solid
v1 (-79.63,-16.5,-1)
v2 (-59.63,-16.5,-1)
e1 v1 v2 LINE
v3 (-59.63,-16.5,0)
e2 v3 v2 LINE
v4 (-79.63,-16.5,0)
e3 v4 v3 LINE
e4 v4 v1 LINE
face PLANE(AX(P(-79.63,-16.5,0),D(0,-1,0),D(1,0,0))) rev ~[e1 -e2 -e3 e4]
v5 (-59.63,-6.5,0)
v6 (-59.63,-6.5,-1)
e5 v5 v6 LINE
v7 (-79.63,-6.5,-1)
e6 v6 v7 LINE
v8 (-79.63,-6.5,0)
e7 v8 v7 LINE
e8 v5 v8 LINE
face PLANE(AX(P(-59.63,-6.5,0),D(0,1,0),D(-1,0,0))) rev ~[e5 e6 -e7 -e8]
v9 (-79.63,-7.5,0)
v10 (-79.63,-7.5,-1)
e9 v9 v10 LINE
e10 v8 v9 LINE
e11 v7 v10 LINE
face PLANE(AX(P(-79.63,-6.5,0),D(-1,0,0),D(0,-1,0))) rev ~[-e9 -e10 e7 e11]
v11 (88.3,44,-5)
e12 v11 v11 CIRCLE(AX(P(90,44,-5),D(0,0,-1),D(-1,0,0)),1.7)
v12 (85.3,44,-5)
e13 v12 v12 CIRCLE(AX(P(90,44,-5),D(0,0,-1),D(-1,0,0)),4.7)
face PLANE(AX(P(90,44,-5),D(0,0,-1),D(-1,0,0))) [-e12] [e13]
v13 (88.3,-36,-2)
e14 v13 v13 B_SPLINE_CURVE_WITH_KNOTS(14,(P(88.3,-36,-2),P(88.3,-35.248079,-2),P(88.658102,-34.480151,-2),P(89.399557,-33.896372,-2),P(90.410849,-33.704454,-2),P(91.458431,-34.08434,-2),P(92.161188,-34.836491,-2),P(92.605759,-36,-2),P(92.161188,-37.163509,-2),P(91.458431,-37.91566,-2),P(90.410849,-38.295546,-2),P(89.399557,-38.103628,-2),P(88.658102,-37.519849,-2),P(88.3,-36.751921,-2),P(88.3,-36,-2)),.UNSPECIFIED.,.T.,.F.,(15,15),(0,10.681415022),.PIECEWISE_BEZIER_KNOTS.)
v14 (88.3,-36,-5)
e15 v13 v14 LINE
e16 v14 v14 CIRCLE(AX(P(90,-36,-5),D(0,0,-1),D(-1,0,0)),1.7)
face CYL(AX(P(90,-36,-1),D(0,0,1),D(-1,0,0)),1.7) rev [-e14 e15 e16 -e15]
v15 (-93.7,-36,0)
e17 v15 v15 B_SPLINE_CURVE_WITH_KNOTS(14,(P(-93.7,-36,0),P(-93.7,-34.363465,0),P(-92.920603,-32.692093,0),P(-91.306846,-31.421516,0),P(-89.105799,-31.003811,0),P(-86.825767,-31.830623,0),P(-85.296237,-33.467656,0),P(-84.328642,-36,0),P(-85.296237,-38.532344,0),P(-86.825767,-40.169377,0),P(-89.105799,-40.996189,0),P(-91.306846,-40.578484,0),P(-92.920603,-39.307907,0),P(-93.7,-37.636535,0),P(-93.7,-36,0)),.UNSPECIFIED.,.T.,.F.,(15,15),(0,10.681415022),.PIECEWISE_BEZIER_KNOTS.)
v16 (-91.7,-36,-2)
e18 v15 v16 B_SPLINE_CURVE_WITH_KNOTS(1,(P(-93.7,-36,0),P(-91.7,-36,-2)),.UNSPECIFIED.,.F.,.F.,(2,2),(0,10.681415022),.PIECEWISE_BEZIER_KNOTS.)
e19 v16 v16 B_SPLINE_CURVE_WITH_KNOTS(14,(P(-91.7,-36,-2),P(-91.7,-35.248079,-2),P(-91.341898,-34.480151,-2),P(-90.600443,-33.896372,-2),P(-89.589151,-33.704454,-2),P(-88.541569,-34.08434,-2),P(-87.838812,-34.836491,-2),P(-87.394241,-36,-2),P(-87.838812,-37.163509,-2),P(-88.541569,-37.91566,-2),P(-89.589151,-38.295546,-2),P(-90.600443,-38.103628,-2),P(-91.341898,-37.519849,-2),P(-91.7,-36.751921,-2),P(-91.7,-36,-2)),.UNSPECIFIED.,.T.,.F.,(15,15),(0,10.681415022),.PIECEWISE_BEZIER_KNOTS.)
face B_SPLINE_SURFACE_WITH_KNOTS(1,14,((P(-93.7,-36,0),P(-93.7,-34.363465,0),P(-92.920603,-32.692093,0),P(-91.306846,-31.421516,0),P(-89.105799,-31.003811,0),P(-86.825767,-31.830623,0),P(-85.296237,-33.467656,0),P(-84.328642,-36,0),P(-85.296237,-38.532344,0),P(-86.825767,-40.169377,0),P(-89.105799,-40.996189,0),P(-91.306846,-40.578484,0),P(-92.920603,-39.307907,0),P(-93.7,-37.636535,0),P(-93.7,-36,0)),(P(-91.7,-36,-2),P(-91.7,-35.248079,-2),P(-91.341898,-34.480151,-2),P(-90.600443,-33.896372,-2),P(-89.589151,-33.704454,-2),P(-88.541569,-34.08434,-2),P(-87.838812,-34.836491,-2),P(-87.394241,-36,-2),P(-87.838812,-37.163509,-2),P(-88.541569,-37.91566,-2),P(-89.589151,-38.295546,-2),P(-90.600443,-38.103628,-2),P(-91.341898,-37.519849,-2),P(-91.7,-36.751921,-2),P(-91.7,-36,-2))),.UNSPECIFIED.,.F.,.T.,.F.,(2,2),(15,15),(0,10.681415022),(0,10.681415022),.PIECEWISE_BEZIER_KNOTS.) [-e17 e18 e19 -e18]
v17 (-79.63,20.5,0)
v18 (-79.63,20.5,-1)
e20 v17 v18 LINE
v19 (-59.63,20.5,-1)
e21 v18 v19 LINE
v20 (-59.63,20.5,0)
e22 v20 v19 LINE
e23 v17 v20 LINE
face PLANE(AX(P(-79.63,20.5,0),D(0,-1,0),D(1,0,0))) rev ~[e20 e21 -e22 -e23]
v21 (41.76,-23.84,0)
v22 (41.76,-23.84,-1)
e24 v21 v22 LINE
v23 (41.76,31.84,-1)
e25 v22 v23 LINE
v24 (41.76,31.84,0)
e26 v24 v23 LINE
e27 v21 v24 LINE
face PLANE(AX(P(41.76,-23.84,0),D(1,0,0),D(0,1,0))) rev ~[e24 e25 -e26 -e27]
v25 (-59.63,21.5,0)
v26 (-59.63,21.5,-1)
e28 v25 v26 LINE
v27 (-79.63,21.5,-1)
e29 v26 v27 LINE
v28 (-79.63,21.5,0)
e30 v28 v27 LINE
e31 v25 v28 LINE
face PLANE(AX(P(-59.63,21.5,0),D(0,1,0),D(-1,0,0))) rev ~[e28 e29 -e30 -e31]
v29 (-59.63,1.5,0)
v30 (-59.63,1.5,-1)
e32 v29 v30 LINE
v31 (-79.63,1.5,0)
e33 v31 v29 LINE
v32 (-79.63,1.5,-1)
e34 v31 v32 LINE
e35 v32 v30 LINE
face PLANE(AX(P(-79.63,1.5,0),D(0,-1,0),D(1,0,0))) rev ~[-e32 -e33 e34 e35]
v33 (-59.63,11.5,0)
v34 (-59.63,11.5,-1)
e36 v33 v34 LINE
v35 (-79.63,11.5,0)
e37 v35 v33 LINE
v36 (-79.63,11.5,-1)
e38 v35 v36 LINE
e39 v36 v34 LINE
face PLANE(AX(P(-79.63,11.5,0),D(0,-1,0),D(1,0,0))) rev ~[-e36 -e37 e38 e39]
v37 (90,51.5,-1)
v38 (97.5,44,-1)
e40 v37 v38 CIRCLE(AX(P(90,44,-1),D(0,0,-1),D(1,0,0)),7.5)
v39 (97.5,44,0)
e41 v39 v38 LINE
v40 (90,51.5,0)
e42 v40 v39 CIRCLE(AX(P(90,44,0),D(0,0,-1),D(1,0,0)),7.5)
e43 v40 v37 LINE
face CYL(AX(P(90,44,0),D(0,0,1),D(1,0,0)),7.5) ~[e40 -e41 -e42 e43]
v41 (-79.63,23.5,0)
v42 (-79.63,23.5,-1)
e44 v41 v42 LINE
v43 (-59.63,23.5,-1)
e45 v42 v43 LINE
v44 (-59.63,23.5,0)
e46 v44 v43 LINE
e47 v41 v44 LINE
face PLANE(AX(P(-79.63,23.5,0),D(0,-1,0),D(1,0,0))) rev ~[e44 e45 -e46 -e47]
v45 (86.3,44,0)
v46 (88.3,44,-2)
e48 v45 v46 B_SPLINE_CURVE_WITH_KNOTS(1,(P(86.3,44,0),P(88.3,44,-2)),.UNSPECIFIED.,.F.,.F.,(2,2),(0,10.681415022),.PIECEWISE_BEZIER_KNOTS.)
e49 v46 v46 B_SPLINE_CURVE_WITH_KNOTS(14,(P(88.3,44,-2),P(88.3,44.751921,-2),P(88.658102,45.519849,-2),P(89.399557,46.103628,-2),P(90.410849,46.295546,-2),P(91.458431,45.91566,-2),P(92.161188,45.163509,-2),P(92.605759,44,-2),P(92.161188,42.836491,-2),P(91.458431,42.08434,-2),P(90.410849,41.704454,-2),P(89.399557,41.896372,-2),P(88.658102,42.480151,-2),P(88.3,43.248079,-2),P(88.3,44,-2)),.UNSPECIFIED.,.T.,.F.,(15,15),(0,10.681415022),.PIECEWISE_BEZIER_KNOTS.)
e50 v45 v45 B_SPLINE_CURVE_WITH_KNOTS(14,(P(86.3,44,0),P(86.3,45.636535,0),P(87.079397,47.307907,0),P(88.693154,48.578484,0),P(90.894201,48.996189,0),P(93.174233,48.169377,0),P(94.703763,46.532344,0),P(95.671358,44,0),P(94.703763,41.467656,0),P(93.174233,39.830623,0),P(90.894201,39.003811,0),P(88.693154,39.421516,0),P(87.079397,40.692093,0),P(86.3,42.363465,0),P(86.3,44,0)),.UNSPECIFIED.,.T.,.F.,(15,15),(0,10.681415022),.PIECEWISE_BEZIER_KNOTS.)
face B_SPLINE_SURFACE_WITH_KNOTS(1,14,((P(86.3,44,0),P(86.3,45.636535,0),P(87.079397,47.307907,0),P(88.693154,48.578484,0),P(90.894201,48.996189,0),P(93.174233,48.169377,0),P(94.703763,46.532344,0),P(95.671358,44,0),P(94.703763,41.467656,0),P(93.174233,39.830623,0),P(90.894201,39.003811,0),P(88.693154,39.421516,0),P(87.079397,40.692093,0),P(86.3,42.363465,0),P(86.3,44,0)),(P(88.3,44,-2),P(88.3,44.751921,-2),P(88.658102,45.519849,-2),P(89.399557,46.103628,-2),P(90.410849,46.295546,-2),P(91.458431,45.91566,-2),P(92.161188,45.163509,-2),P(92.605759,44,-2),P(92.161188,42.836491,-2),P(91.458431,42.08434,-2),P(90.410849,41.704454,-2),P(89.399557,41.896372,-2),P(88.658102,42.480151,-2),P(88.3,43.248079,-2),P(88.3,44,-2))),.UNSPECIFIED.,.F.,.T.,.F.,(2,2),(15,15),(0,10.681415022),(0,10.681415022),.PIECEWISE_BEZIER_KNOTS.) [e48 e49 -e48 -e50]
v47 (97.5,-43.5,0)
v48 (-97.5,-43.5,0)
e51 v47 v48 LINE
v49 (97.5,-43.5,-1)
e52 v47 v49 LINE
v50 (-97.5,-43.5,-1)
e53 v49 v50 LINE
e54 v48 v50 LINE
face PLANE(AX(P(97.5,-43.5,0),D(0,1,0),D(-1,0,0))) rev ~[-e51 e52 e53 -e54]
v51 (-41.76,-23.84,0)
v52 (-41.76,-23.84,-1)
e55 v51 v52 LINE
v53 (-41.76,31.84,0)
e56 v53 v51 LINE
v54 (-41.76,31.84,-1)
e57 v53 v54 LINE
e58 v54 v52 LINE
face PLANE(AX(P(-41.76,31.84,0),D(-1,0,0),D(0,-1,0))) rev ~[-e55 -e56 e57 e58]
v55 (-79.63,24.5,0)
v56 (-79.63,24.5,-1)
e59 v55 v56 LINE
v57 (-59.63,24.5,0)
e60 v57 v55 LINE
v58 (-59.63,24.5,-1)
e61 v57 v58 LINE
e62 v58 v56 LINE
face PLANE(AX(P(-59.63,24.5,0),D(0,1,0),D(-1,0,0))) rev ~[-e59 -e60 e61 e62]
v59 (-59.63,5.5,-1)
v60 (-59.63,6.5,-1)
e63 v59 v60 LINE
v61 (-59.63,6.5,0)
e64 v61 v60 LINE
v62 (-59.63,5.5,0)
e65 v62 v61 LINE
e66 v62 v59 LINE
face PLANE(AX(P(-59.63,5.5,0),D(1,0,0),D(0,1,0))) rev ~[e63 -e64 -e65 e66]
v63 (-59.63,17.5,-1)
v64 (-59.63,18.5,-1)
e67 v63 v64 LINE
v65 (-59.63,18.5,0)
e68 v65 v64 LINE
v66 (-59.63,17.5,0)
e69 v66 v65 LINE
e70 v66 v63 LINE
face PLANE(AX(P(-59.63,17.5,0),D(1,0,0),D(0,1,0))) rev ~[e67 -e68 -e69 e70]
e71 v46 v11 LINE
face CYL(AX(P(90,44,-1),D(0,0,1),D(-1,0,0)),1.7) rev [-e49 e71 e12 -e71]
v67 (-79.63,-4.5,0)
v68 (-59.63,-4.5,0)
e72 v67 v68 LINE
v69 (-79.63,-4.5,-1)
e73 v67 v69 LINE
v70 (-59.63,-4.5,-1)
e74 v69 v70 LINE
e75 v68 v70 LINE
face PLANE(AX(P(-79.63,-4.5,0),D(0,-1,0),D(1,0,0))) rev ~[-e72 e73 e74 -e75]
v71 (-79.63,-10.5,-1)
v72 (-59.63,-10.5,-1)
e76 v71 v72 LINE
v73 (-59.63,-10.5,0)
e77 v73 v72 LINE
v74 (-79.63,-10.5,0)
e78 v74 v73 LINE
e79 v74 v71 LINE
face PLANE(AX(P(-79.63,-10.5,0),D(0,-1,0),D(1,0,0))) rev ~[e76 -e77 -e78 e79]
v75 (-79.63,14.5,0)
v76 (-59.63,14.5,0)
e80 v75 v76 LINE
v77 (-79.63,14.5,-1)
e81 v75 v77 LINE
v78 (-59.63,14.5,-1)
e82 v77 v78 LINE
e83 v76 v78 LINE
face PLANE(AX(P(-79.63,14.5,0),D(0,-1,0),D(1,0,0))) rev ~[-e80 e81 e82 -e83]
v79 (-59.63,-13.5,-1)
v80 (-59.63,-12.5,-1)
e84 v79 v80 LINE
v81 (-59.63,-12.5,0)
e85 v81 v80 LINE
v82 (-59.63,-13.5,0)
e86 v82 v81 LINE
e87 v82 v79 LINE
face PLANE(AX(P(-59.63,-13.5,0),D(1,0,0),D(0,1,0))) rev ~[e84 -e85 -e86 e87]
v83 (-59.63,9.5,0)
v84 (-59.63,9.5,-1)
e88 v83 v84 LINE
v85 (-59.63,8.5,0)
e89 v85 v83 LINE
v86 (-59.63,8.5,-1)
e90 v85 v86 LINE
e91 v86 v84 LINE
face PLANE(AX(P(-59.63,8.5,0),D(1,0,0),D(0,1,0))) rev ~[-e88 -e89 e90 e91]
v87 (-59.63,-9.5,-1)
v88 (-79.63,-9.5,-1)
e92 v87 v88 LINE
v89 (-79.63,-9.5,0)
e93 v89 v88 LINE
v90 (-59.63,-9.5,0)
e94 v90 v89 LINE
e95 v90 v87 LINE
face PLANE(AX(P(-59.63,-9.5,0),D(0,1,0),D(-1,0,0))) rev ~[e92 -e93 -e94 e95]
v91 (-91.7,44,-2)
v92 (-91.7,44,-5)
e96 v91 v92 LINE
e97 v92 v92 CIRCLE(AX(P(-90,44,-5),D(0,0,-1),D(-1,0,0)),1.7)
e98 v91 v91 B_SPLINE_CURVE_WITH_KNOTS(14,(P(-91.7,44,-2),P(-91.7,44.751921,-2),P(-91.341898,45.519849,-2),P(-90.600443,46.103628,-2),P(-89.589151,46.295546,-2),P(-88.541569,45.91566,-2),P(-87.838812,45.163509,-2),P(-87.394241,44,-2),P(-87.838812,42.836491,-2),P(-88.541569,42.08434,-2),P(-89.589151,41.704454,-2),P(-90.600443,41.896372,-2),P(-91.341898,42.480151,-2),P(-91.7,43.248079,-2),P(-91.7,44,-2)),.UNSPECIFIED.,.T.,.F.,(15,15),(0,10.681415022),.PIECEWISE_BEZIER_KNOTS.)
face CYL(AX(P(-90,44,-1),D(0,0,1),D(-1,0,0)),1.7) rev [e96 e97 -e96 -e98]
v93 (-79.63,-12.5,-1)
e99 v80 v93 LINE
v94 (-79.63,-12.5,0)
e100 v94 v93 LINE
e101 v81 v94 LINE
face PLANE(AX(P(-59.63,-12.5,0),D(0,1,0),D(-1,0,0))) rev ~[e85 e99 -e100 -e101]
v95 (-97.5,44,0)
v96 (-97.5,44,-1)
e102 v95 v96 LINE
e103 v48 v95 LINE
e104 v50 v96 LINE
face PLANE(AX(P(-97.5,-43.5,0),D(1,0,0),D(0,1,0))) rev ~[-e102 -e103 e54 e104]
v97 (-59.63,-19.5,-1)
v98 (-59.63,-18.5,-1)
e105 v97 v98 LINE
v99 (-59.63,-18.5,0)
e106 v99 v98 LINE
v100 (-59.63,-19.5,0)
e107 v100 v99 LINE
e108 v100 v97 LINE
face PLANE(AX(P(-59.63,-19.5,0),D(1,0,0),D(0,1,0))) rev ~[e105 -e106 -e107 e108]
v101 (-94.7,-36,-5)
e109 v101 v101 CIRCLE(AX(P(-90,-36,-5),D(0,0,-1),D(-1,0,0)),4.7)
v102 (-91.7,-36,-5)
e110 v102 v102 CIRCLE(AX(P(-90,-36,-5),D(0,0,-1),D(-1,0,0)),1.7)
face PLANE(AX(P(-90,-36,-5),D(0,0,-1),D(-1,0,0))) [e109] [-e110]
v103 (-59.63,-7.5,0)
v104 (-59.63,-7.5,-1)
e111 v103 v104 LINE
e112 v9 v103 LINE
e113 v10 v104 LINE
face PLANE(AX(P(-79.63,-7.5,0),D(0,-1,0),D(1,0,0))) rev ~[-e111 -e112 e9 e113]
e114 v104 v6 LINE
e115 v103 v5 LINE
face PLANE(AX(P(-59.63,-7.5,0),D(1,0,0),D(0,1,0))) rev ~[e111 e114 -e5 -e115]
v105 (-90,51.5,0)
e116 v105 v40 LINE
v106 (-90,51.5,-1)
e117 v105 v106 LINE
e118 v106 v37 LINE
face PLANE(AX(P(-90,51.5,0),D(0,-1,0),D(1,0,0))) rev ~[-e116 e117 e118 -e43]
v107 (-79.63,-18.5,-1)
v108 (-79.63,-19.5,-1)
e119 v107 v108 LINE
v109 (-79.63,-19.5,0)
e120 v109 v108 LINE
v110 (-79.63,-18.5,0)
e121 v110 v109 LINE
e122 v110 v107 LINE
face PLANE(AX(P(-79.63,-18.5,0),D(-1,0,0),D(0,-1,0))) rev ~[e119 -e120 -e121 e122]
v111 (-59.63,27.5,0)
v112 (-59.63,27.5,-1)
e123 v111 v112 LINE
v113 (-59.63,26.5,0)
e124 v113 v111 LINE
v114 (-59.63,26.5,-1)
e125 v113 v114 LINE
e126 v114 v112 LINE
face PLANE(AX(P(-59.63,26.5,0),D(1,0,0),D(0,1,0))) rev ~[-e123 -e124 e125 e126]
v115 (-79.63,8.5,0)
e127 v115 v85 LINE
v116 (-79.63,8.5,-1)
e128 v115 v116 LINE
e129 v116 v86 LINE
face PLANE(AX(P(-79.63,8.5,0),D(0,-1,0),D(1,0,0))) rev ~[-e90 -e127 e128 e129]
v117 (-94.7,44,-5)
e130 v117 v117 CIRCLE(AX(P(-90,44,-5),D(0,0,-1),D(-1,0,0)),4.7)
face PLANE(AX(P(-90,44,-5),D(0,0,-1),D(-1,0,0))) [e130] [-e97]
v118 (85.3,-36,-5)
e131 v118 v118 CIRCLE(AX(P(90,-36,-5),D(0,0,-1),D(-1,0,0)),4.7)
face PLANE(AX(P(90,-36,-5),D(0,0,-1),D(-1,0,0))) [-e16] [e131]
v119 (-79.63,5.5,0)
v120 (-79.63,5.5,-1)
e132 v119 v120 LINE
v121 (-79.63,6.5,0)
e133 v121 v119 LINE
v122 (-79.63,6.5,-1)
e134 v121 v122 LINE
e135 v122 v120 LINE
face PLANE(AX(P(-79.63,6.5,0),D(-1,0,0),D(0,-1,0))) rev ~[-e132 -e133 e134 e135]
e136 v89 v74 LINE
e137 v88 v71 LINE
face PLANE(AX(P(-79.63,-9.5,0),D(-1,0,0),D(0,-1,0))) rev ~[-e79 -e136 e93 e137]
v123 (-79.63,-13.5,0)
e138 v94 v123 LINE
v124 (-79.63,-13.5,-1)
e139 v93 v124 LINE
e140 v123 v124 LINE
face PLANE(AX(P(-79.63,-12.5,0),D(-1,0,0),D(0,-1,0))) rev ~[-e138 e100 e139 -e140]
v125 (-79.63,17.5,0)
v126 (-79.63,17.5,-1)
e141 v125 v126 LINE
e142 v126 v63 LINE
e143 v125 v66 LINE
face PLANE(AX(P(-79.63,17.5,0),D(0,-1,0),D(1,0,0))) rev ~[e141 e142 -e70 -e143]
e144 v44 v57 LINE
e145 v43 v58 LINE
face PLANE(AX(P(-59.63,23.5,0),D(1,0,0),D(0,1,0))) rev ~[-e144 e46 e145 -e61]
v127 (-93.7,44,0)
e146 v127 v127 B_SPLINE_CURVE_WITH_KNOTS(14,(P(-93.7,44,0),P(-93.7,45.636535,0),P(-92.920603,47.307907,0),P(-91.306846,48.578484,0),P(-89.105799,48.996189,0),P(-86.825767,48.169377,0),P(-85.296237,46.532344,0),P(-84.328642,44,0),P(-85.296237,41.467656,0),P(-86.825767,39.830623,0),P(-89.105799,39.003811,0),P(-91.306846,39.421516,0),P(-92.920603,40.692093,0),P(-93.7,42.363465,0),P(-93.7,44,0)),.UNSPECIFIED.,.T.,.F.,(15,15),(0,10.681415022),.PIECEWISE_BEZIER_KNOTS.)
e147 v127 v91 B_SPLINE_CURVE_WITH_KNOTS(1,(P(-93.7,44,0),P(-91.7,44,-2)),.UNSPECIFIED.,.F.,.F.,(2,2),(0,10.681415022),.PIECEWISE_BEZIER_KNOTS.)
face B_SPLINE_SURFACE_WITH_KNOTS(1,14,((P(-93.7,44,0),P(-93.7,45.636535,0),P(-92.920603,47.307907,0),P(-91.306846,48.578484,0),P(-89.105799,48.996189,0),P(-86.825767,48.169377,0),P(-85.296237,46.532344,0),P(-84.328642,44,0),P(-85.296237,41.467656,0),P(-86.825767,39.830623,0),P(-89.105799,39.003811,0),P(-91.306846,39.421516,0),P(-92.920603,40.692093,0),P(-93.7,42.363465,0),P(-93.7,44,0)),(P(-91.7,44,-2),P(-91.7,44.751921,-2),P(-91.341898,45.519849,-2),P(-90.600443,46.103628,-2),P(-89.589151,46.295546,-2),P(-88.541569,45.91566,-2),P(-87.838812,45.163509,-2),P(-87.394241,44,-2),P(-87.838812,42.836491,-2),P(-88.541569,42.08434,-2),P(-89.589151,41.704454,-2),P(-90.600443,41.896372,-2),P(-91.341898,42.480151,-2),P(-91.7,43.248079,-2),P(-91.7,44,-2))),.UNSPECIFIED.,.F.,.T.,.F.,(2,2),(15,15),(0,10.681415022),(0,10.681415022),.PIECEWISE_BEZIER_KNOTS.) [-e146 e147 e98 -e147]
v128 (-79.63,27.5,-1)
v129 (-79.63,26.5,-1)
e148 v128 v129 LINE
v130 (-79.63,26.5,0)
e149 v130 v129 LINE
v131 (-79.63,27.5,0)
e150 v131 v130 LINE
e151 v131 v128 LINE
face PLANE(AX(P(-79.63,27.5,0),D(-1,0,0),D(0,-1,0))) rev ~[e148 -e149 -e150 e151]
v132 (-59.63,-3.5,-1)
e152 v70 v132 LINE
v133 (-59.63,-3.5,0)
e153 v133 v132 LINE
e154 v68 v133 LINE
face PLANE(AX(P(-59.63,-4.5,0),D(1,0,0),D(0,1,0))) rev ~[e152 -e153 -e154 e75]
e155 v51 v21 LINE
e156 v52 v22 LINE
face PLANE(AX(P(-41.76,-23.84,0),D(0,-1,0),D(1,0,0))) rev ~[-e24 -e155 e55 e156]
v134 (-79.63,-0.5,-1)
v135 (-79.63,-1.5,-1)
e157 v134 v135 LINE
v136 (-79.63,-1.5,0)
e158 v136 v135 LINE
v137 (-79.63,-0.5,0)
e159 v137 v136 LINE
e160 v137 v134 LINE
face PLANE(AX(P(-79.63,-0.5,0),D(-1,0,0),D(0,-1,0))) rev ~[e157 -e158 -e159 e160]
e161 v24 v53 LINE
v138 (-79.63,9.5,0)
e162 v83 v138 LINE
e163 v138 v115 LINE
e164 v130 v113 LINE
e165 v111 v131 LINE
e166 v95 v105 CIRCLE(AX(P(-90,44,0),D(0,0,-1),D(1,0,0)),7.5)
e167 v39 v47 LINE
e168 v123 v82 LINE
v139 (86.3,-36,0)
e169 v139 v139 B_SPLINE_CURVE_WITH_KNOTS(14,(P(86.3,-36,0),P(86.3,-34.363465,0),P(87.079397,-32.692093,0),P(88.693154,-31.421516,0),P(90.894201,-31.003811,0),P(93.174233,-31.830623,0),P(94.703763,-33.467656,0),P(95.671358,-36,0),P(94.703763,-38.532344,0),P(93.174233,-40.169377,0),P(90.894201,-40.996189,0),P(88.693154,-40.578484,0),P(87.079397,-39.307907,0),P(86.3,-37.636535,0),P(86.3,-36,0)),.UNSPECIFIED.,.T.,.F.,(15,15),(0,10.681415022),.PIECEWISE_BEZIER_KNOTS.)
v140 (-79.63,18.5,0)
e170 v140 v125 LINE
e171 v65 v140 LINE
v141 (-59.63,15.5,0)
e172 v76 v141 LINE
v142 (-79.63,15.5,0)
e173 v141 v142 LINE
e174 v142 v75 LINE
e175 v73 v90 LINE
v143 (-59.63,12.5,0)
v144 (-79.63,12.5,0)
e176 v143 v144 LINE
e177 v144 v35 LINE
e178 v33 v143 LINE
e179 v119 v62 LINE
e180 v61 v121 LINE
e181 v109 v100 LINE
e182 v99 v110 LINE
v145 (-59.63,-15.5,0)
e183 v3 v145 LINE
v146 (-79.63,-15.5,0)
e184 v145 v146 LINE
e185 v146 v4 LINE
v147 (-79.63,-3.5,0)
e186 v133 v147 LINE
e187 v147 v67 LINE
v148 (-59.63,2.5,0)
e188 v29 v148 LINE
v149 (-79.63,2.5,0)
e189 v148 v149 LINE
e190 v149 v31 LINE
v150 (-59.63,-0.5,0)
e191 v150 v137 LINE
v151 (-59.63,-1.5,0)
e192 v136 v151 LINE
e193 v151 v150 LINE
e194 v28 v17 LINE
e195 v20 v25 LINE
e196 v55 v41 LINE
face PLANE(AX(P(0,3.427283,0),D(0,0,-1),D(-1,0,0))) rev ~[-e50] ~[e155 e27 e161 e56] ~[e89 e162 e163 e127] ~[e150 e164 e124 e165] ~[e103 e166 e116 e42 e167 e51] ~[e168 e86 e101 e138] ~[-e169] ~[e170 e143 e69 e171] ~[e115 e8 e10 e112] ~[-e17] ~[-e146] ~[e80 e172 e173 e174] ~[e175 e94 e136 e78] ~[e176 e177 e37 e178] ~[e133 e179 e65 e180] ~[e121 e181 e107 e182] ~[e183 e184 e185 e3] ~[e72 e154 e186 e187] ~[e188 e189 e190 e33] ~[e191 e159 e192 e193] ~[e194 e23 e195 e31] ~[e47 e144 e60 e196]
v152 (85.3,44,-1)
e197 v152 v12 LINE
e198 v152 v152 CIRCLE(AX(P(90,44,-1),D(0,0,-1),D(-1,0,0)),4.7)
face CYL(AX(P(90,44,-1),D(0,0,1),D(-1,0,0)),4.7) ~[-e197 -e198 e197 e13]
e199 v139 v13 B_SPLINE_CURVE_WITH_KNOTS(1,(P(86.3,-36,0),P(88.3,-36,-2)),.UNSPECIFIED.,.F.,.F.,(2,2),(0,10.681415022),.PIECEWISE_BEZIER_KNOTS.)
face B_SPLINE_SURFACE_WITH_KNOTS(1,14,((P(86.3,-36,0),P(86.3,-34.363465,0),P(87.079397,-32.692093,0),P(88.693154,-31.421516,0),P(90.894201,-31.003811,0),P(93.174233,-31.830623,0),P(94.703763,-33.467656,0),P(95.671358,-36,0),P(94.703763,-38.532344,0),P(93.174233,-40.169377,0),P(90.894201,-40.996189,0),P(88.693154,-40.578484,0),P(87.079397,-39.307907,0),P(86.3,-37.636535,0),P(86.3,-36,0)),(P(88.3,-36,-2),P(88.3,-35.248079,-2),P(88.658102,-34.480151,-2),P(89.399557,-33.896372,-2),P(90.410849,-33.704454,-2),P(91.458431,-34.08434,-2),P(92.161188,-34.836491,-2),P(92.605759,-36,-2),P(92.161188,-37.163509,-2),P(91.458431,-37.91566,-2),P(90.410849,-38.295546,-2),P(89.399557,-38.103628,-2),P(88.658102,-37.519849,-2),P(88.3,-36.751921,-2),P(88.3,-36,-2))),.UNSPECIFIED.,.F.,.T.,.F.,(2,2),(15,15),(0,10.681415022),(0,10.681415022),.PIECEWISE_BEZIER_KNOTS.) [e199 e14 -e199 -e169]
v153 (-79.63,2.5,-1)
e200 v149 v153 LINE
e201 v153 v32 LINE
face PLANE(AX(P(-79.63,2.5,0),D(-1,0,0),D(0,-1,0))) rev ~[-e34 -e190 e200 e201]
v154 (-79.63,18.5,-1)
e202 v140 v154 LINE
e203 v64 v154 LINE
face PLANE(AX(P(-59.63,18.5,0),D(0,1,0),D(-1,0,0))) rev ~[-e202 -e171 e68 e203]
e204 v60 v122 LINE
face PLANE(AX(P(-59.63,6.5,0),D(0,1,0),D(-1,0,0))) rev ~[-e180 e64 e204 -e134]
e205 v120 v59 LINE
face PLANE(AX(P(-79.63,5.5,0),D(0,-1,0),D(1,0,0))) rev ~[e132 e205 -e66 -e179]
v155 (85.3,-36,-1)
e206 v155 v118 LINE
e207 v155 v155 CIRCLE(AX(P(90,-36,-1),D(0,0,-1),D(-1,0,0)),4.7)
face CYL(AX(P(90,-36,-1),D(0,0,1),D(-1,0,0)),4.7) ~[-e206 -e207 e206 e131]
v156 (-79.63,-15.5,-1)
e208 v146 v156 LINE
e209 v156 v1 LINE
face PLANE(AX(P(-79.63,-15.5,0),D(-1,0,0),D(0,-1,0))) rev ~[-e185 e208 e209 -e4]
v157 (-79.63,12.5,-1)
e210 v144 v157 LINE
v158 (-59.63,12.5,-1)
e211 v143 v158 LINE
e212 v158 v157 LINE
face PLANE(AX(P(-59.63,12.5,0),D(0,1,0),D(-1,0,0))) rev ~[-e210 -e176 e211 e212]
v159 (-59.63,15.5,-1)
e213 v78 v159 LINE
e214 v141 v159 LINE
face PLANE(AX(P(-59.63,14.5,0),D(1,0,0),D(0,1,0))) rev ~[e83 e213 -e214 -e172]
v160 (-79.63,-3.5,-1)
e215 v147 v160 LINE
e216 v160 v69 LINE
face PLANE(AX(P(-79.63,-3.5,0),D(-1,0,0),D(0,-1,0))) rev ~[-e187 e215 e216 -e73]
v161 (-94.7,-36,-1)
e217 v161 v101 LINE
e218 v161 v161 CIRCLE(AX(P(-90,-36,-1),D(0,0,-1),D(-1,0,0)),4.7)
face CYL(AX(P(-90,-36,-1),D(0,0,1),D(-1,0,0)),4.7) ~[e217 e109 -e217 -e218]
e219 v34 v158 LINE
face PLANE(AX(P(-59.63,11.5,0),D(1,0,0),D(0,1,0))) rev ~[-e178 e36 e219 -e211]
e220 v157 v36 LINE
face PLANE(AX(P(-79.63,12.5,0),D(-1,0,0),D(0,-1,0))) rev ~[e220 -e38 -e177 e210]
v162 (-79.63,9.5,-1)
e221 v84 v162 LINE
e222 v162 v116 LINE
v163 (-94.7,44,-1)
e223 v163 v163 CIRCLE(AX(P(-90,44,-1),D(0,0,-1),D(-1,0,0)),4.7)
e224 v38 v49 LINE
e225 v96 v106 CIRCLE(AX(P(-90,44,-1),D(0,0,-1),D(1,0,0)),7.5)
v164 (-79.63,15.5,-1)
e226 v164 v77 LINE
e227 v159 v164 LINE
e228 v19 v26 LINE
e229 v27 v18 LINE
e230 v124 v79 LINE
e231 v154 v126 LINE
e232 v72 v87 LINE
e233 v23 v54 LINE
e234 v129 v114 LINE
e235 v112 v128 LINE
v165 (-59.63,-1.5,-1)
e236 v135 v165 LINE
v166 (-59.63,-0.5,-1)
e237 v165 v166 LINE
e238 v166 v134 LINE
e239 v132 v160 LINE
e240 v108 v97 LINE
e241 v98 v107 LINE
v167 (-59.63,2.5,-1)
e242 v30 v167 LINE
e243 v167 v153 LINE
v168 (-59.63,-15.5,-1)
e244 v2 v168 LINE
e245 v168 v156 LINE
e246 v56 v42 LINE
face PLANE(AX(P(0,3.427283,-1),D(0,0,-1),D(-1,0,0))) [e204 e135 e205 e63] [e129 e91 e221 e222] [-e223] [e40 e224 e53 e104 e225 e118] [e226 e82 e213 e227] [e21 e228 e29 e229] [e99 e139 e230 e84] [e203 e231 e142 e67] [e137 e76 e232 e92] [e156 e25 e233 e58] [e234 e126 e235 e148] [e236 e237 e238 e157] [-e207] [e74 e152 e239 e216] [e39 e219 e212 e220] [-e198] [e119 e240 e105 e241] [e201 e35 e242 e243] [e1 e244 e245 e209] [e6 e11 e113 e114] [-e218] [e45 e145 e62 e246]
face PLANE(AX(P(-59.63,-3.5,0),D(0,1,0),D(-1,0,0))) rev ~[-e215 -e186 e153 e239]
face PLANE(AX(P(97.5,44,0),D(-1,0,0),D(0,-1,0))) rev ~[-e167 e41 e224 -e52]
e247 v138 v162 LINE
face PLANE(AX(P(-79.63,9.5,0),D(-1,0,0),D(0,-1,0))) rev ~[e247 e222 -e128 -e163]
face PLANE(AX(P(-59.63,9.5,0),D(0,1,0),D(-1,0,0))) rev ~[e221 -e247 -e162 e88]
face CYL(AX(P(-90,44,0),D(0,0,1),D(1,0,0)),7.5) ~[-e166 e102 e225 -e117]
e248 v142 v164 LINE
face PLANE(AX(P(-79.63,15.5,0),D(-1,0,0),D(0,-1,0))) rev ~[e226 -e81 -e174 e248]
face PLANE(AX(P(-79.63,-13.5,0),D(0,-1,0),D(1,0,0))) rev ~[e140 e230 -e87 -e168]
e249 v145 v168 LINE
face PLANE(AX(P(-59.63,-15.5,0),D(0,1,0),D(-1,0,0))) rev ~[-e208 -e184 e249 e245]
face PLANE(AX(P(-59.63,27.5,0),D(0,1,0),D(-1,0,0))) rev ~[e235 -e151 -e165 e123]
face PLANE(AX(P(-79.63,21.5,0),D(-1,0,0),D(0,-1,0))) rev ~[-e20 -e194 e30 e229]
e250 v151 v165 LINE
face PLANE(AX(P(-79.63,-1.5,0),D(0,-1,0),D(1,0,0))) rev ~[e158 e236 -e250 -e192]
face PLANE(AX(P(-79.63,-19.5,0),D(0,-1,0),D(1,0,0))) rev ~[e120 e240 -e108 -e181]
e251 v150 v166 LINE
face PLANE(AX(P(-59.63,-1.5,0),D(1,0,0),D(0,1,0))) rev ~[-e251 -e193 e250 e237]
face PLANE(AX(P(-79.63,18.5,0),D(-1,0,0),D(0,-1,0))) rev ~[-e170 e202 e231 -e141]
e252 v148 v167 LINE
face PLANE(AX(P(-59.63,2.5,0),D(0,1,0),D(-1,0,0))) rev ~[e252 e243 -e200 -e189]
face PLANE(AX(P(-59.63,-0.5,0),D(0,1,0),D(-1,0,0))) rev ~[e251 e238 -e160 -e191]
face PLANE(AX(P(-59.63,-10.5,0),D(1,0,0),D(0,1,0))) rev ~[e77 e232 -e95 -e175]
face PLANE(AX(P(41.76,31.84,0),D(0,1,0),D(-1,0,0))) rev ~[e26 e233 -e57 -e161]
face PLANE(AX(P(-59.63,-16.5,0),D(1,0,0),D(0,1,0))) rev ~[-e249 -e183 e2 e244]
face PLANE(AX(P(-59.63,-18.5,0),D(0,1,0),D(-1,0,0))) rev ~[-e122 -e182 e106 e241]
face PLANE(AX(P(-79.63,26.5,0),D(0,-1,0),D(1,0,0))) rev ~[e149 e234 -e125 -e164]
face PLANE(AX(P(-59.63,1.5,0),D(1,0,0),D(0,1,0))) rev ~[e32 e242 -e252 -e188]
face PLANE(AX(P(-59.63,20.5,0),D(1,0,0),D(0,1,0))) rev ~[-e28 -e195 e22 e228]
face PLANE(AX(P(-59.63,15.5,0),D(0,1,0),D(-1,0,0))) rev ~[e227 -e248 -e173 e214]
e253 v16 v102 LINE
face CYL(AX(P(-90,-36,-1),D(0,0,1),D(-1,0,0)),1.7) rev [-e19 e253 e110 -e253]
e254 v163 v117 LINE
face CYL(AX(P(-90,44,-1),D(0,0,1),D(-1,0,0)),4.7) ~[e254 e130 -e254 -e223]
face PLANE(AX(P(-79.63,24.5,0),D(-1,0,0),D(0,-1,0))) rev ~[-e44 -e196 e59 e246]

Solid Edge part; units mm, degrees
sketch "Sketch1" plane through (0, 0, 0) normal (0, 0, 1) x (1, 0, 0)
  line L0 (-97.5, -43.5) -> (-97.5, 44)
  arc A0 (-97.5, 44) -> (-90, 51.5) centre (-90, 44) cw
  line L1 (-90, 51.5) -> (90, 51.5)
  arc A1 (90, 51.5) -> (97.5, 44) centre (90, 44) cw
  line L2 (97.5, 44) -> (97.5, -43.5)
  line L3 (97.5, -43.5) -> (-97.5, -43.5)
extrude "Protrusion1" add sketch "Sketch1" against normal blind 1
sketch "Sketch2" plane through (0, 4, 0) normal (0, 0, 1) x (1, 0, 0)
  line L0 (41.76, -27.84) -> (41.76, 27.84)
  line L1 (41.76, 27.84) -> (-41.76, 27.84)
  line L2 (-41.76, 27.84) -> (-41.76, -27.84)
  line L3 (-41.76, -27.84) -> (41.76, -27.84)
extrude "Cutout1" cut sketch "Sketch2" against normal up to vertex (1 mm away)
sketch "Sketch3" plane through (0, 4, -1) normal (0, 0, -1) x (-1, 0, 0)
  circle A0 centre (90, 40) radius 4.7
  circle A1 centre (90, 40) radius 1.7
  circle A2 centre (-90, 40) radius 4.7
  circle A3 centre (-90, 40) radius 1.7
  circle A4 centre (-90, -40) radius 4.7
  circle A5 centre (-90, -40) radius 1.7
  circle A6 centre (90, -40) radius 4.7
  circle A7 centre (90, -40) radius 1.7
  dimension "D1" = 3.4
  dimension "D2" = 80
  dimension "D3" = 3
  dimension "D4" = 3
  dimension "D5" = 3
  dimension "D6" = 3
extrude "ExtrudedProtrusion_2" add sketch "Sketch3" along normal blind 4
sketch "Sketch4" plane through (0, 4, -1) normal (0, 0, -1) x (-1, 0, 0)
  circle A0 centre (-90, 40) radius 1.7
  circle A1 centre (-90, -40) radius 1.7
  circle A2 centre (90, -40) radius 1.7
  circle A3 centre (90, 40) radius 1.7
  dimension "D1" = 3.4
  dimension "D2" = 80
  dimension "D3" = 3
  dimension "D4" = 3
  dimension "D5" = 3
  dimension "D6" = 3
extrude "Cutout2" cut sketch "Sketch4" against normal up to vertex (1 mm away)
chamfer "Chamfer_1" distance 2 angle 45 4 edges at (-88.3, 44, 0) (91.7, 44, 0) (91.7, -36, 0) (-88.3, -36, 0)
sketch "Sketch5" plane through (0, 4, 0) normal (0, 0, 1) x (1, 0, 0)
  line L0 (-59.63, 23.5) -> (-79.63, 23.5)
  line L1 (-79.63, 23.5) -> (-79.63, 22.5)
  line L2 (-79.63, 22.5) -> (-59.63, 22.5)
  line L3 (-59.63, 22.5) -> (-59.63, 23.5)
  line L4 (-79.63, 19.5) -> (-59.63, 19.5)
  line L5 (-59.63, 19.5) -> (-59.63, 20.5)
  line L6 (-59.63, 20.5) -> (-79.63, 20.5)
  line L7 (-79.63, 20.5) -> (-79.63, 19.5)
  line L8 (-79.63, 16.5) -> (-59.63, 16.5)
  line L9 (-59.63, 16.5) -> (-59.63, 17.5)
  line L10 (-59.63, 17.5) -> (-79.63, 17.5)
  line L11 (-79.63, 17.5) -> (-79.63, 16.5)
  line L12 (-59.63, 11.5) -> (-79.63, 11.5)
  line L13 (-79.63, 11.5) -> (-79.63, 10.5)
  line L14 (-79.63, 10.5) -> (-59.63, 10.5)
  line L15 (-59.63, 10.5) -> (-59.63, 11.5)
  line L16 (-79.63, 13.5) -> (-59.63, 13.5)
  line L17 (-59.63, 13.5) -> (-59.63, 14.5)
  line L18 (-59.63, 14.5) -> (-79.63, 14.5)
  line L19 (-79.63, 14.5) -> (-79.63, 13.5)
  line L20 (-79.63, 7.5) -> (-59.63, 7.5)
  line L21 (-59.63, 7.5) -> (-59.63, 8.5)
  line L22 (-59.63, 8.5) -> (-79.63, 8.5)
  line L23 (-79.63, 8.5) -> (-79.63, 7.5)
  line L24 (-59.63, 5.5) -> (-79.63, 5.5)
  line L25 (-79.63, 5.5) -> (-79.63, 4.5)
  line L26 (-79.63, 4.5) -> (-59.63, 4.5)
  line L27 (-59.63, 4.5) -> (-59.63, 5.5)
  line L28 (-79.63, 1.5) -> (-59.63, 1.5)
  line L29 (-59.63, 1.5) -> (-59.63, 2.5)
  line L30 (-59.63, 2.5) -> (-79.63, 2.5)
  line L31 (-79.63, 2.5) -> (-79.63, 1.5)
  line L32 (-79.63, -2.5) -> (-59.63, -2.5)
  line L33 (-59.63, -2.5) -> (-59.63, -1.5)
  line L34 (-59.63, -1.5) -> (-79.63, -1.5)
  line L35 (-79.63, -1.5) -> (-79.63, -2.5)
  line L36 (-79.63, -5.5) -> (-59.63, -5.5)
  line L37 (-59.63, -5.5) -> (-59.63, -4.5)
  line L38 (-59.63, -4.5) -> (-79.63, -4.5)
  line L39 (-79.63, -4.5) -> (-79.63, -5.5)
  line L40 (-79.63, -8.5) -> (-59.63, -8.5)
  line L41 (-59.63, -8.5) -> (-59.63, -7.5)
  line L42 (-59.63, -7.5) -> (-79.63, -7.5)
  line L43 (-79.63, -7.5) -> (-79.63, -8.5)
  line L44 (-79.63, -11.5) -> (-59.63, -11.5)
  line L45 (-59.63, -11.5) -> (-59.63, -10.5)
  line L46 (-59.63, -10.5) -> (-79.63, -10.5)
  line L47 (-79.63, -10.5) -> (-79.63, -11.5)
  line L48 (-79.63, -14.5) -> (-59.63, -14.5)
  line L49 (-59.63, -14.5) -> (-59.63, -13.5)
  line L50 (-59.63, -13.5) -> (-79.63, -13.5)
  line L51 (-79.63, -13.5) -> (-79.63, -14.5)
  line L52 (-59.63, -16.5) -> (-79.63, -16.5)
  line L53 (-79.63, -16.5) -> (-79.63, -17.5)
  line L54 (-79.63, -17.5) -> (-59.63, -17.5)
  line L55 (-59.63, -17.5) -> (-59.63, -16.5)
  line L56 (-79.63, -20.5) -> (-59.63, -20.5)
  line L57 (-59.63, -20.5) -> (-59.63, -19.5)
  line L58 (-59.63, -19.5) -> (-79.63, -19.5)
  line L59 (-79.63, -19.5) -> (-79.63, -20.5)
  line L60 (-59.63, -22.5) -> (-79.63, -22.5)
  line L61 (-79.63, -22.5) -> (-79.63, -23.5)
  line L62 (-79.63, -23.5) -> (-59.63, -23.5)
  line L63 (-59.63, -23.5) -> (-59.63, -22.5)
  dimension "D1" = 1
  dimension "D2" = 20
  dimension "D3" = 2
  dimension "D4" = 27.87
  dimension "D5" = 1
  dimension "D6" = 20
  dimension "D7" = 2
  dimension "D8" = 24
  dimension "D9" = 24
extrude "Cutout3" cut sketch "Sketch5" against normal up to vertex (1 mm away)
properties material "Polycarbonate"
